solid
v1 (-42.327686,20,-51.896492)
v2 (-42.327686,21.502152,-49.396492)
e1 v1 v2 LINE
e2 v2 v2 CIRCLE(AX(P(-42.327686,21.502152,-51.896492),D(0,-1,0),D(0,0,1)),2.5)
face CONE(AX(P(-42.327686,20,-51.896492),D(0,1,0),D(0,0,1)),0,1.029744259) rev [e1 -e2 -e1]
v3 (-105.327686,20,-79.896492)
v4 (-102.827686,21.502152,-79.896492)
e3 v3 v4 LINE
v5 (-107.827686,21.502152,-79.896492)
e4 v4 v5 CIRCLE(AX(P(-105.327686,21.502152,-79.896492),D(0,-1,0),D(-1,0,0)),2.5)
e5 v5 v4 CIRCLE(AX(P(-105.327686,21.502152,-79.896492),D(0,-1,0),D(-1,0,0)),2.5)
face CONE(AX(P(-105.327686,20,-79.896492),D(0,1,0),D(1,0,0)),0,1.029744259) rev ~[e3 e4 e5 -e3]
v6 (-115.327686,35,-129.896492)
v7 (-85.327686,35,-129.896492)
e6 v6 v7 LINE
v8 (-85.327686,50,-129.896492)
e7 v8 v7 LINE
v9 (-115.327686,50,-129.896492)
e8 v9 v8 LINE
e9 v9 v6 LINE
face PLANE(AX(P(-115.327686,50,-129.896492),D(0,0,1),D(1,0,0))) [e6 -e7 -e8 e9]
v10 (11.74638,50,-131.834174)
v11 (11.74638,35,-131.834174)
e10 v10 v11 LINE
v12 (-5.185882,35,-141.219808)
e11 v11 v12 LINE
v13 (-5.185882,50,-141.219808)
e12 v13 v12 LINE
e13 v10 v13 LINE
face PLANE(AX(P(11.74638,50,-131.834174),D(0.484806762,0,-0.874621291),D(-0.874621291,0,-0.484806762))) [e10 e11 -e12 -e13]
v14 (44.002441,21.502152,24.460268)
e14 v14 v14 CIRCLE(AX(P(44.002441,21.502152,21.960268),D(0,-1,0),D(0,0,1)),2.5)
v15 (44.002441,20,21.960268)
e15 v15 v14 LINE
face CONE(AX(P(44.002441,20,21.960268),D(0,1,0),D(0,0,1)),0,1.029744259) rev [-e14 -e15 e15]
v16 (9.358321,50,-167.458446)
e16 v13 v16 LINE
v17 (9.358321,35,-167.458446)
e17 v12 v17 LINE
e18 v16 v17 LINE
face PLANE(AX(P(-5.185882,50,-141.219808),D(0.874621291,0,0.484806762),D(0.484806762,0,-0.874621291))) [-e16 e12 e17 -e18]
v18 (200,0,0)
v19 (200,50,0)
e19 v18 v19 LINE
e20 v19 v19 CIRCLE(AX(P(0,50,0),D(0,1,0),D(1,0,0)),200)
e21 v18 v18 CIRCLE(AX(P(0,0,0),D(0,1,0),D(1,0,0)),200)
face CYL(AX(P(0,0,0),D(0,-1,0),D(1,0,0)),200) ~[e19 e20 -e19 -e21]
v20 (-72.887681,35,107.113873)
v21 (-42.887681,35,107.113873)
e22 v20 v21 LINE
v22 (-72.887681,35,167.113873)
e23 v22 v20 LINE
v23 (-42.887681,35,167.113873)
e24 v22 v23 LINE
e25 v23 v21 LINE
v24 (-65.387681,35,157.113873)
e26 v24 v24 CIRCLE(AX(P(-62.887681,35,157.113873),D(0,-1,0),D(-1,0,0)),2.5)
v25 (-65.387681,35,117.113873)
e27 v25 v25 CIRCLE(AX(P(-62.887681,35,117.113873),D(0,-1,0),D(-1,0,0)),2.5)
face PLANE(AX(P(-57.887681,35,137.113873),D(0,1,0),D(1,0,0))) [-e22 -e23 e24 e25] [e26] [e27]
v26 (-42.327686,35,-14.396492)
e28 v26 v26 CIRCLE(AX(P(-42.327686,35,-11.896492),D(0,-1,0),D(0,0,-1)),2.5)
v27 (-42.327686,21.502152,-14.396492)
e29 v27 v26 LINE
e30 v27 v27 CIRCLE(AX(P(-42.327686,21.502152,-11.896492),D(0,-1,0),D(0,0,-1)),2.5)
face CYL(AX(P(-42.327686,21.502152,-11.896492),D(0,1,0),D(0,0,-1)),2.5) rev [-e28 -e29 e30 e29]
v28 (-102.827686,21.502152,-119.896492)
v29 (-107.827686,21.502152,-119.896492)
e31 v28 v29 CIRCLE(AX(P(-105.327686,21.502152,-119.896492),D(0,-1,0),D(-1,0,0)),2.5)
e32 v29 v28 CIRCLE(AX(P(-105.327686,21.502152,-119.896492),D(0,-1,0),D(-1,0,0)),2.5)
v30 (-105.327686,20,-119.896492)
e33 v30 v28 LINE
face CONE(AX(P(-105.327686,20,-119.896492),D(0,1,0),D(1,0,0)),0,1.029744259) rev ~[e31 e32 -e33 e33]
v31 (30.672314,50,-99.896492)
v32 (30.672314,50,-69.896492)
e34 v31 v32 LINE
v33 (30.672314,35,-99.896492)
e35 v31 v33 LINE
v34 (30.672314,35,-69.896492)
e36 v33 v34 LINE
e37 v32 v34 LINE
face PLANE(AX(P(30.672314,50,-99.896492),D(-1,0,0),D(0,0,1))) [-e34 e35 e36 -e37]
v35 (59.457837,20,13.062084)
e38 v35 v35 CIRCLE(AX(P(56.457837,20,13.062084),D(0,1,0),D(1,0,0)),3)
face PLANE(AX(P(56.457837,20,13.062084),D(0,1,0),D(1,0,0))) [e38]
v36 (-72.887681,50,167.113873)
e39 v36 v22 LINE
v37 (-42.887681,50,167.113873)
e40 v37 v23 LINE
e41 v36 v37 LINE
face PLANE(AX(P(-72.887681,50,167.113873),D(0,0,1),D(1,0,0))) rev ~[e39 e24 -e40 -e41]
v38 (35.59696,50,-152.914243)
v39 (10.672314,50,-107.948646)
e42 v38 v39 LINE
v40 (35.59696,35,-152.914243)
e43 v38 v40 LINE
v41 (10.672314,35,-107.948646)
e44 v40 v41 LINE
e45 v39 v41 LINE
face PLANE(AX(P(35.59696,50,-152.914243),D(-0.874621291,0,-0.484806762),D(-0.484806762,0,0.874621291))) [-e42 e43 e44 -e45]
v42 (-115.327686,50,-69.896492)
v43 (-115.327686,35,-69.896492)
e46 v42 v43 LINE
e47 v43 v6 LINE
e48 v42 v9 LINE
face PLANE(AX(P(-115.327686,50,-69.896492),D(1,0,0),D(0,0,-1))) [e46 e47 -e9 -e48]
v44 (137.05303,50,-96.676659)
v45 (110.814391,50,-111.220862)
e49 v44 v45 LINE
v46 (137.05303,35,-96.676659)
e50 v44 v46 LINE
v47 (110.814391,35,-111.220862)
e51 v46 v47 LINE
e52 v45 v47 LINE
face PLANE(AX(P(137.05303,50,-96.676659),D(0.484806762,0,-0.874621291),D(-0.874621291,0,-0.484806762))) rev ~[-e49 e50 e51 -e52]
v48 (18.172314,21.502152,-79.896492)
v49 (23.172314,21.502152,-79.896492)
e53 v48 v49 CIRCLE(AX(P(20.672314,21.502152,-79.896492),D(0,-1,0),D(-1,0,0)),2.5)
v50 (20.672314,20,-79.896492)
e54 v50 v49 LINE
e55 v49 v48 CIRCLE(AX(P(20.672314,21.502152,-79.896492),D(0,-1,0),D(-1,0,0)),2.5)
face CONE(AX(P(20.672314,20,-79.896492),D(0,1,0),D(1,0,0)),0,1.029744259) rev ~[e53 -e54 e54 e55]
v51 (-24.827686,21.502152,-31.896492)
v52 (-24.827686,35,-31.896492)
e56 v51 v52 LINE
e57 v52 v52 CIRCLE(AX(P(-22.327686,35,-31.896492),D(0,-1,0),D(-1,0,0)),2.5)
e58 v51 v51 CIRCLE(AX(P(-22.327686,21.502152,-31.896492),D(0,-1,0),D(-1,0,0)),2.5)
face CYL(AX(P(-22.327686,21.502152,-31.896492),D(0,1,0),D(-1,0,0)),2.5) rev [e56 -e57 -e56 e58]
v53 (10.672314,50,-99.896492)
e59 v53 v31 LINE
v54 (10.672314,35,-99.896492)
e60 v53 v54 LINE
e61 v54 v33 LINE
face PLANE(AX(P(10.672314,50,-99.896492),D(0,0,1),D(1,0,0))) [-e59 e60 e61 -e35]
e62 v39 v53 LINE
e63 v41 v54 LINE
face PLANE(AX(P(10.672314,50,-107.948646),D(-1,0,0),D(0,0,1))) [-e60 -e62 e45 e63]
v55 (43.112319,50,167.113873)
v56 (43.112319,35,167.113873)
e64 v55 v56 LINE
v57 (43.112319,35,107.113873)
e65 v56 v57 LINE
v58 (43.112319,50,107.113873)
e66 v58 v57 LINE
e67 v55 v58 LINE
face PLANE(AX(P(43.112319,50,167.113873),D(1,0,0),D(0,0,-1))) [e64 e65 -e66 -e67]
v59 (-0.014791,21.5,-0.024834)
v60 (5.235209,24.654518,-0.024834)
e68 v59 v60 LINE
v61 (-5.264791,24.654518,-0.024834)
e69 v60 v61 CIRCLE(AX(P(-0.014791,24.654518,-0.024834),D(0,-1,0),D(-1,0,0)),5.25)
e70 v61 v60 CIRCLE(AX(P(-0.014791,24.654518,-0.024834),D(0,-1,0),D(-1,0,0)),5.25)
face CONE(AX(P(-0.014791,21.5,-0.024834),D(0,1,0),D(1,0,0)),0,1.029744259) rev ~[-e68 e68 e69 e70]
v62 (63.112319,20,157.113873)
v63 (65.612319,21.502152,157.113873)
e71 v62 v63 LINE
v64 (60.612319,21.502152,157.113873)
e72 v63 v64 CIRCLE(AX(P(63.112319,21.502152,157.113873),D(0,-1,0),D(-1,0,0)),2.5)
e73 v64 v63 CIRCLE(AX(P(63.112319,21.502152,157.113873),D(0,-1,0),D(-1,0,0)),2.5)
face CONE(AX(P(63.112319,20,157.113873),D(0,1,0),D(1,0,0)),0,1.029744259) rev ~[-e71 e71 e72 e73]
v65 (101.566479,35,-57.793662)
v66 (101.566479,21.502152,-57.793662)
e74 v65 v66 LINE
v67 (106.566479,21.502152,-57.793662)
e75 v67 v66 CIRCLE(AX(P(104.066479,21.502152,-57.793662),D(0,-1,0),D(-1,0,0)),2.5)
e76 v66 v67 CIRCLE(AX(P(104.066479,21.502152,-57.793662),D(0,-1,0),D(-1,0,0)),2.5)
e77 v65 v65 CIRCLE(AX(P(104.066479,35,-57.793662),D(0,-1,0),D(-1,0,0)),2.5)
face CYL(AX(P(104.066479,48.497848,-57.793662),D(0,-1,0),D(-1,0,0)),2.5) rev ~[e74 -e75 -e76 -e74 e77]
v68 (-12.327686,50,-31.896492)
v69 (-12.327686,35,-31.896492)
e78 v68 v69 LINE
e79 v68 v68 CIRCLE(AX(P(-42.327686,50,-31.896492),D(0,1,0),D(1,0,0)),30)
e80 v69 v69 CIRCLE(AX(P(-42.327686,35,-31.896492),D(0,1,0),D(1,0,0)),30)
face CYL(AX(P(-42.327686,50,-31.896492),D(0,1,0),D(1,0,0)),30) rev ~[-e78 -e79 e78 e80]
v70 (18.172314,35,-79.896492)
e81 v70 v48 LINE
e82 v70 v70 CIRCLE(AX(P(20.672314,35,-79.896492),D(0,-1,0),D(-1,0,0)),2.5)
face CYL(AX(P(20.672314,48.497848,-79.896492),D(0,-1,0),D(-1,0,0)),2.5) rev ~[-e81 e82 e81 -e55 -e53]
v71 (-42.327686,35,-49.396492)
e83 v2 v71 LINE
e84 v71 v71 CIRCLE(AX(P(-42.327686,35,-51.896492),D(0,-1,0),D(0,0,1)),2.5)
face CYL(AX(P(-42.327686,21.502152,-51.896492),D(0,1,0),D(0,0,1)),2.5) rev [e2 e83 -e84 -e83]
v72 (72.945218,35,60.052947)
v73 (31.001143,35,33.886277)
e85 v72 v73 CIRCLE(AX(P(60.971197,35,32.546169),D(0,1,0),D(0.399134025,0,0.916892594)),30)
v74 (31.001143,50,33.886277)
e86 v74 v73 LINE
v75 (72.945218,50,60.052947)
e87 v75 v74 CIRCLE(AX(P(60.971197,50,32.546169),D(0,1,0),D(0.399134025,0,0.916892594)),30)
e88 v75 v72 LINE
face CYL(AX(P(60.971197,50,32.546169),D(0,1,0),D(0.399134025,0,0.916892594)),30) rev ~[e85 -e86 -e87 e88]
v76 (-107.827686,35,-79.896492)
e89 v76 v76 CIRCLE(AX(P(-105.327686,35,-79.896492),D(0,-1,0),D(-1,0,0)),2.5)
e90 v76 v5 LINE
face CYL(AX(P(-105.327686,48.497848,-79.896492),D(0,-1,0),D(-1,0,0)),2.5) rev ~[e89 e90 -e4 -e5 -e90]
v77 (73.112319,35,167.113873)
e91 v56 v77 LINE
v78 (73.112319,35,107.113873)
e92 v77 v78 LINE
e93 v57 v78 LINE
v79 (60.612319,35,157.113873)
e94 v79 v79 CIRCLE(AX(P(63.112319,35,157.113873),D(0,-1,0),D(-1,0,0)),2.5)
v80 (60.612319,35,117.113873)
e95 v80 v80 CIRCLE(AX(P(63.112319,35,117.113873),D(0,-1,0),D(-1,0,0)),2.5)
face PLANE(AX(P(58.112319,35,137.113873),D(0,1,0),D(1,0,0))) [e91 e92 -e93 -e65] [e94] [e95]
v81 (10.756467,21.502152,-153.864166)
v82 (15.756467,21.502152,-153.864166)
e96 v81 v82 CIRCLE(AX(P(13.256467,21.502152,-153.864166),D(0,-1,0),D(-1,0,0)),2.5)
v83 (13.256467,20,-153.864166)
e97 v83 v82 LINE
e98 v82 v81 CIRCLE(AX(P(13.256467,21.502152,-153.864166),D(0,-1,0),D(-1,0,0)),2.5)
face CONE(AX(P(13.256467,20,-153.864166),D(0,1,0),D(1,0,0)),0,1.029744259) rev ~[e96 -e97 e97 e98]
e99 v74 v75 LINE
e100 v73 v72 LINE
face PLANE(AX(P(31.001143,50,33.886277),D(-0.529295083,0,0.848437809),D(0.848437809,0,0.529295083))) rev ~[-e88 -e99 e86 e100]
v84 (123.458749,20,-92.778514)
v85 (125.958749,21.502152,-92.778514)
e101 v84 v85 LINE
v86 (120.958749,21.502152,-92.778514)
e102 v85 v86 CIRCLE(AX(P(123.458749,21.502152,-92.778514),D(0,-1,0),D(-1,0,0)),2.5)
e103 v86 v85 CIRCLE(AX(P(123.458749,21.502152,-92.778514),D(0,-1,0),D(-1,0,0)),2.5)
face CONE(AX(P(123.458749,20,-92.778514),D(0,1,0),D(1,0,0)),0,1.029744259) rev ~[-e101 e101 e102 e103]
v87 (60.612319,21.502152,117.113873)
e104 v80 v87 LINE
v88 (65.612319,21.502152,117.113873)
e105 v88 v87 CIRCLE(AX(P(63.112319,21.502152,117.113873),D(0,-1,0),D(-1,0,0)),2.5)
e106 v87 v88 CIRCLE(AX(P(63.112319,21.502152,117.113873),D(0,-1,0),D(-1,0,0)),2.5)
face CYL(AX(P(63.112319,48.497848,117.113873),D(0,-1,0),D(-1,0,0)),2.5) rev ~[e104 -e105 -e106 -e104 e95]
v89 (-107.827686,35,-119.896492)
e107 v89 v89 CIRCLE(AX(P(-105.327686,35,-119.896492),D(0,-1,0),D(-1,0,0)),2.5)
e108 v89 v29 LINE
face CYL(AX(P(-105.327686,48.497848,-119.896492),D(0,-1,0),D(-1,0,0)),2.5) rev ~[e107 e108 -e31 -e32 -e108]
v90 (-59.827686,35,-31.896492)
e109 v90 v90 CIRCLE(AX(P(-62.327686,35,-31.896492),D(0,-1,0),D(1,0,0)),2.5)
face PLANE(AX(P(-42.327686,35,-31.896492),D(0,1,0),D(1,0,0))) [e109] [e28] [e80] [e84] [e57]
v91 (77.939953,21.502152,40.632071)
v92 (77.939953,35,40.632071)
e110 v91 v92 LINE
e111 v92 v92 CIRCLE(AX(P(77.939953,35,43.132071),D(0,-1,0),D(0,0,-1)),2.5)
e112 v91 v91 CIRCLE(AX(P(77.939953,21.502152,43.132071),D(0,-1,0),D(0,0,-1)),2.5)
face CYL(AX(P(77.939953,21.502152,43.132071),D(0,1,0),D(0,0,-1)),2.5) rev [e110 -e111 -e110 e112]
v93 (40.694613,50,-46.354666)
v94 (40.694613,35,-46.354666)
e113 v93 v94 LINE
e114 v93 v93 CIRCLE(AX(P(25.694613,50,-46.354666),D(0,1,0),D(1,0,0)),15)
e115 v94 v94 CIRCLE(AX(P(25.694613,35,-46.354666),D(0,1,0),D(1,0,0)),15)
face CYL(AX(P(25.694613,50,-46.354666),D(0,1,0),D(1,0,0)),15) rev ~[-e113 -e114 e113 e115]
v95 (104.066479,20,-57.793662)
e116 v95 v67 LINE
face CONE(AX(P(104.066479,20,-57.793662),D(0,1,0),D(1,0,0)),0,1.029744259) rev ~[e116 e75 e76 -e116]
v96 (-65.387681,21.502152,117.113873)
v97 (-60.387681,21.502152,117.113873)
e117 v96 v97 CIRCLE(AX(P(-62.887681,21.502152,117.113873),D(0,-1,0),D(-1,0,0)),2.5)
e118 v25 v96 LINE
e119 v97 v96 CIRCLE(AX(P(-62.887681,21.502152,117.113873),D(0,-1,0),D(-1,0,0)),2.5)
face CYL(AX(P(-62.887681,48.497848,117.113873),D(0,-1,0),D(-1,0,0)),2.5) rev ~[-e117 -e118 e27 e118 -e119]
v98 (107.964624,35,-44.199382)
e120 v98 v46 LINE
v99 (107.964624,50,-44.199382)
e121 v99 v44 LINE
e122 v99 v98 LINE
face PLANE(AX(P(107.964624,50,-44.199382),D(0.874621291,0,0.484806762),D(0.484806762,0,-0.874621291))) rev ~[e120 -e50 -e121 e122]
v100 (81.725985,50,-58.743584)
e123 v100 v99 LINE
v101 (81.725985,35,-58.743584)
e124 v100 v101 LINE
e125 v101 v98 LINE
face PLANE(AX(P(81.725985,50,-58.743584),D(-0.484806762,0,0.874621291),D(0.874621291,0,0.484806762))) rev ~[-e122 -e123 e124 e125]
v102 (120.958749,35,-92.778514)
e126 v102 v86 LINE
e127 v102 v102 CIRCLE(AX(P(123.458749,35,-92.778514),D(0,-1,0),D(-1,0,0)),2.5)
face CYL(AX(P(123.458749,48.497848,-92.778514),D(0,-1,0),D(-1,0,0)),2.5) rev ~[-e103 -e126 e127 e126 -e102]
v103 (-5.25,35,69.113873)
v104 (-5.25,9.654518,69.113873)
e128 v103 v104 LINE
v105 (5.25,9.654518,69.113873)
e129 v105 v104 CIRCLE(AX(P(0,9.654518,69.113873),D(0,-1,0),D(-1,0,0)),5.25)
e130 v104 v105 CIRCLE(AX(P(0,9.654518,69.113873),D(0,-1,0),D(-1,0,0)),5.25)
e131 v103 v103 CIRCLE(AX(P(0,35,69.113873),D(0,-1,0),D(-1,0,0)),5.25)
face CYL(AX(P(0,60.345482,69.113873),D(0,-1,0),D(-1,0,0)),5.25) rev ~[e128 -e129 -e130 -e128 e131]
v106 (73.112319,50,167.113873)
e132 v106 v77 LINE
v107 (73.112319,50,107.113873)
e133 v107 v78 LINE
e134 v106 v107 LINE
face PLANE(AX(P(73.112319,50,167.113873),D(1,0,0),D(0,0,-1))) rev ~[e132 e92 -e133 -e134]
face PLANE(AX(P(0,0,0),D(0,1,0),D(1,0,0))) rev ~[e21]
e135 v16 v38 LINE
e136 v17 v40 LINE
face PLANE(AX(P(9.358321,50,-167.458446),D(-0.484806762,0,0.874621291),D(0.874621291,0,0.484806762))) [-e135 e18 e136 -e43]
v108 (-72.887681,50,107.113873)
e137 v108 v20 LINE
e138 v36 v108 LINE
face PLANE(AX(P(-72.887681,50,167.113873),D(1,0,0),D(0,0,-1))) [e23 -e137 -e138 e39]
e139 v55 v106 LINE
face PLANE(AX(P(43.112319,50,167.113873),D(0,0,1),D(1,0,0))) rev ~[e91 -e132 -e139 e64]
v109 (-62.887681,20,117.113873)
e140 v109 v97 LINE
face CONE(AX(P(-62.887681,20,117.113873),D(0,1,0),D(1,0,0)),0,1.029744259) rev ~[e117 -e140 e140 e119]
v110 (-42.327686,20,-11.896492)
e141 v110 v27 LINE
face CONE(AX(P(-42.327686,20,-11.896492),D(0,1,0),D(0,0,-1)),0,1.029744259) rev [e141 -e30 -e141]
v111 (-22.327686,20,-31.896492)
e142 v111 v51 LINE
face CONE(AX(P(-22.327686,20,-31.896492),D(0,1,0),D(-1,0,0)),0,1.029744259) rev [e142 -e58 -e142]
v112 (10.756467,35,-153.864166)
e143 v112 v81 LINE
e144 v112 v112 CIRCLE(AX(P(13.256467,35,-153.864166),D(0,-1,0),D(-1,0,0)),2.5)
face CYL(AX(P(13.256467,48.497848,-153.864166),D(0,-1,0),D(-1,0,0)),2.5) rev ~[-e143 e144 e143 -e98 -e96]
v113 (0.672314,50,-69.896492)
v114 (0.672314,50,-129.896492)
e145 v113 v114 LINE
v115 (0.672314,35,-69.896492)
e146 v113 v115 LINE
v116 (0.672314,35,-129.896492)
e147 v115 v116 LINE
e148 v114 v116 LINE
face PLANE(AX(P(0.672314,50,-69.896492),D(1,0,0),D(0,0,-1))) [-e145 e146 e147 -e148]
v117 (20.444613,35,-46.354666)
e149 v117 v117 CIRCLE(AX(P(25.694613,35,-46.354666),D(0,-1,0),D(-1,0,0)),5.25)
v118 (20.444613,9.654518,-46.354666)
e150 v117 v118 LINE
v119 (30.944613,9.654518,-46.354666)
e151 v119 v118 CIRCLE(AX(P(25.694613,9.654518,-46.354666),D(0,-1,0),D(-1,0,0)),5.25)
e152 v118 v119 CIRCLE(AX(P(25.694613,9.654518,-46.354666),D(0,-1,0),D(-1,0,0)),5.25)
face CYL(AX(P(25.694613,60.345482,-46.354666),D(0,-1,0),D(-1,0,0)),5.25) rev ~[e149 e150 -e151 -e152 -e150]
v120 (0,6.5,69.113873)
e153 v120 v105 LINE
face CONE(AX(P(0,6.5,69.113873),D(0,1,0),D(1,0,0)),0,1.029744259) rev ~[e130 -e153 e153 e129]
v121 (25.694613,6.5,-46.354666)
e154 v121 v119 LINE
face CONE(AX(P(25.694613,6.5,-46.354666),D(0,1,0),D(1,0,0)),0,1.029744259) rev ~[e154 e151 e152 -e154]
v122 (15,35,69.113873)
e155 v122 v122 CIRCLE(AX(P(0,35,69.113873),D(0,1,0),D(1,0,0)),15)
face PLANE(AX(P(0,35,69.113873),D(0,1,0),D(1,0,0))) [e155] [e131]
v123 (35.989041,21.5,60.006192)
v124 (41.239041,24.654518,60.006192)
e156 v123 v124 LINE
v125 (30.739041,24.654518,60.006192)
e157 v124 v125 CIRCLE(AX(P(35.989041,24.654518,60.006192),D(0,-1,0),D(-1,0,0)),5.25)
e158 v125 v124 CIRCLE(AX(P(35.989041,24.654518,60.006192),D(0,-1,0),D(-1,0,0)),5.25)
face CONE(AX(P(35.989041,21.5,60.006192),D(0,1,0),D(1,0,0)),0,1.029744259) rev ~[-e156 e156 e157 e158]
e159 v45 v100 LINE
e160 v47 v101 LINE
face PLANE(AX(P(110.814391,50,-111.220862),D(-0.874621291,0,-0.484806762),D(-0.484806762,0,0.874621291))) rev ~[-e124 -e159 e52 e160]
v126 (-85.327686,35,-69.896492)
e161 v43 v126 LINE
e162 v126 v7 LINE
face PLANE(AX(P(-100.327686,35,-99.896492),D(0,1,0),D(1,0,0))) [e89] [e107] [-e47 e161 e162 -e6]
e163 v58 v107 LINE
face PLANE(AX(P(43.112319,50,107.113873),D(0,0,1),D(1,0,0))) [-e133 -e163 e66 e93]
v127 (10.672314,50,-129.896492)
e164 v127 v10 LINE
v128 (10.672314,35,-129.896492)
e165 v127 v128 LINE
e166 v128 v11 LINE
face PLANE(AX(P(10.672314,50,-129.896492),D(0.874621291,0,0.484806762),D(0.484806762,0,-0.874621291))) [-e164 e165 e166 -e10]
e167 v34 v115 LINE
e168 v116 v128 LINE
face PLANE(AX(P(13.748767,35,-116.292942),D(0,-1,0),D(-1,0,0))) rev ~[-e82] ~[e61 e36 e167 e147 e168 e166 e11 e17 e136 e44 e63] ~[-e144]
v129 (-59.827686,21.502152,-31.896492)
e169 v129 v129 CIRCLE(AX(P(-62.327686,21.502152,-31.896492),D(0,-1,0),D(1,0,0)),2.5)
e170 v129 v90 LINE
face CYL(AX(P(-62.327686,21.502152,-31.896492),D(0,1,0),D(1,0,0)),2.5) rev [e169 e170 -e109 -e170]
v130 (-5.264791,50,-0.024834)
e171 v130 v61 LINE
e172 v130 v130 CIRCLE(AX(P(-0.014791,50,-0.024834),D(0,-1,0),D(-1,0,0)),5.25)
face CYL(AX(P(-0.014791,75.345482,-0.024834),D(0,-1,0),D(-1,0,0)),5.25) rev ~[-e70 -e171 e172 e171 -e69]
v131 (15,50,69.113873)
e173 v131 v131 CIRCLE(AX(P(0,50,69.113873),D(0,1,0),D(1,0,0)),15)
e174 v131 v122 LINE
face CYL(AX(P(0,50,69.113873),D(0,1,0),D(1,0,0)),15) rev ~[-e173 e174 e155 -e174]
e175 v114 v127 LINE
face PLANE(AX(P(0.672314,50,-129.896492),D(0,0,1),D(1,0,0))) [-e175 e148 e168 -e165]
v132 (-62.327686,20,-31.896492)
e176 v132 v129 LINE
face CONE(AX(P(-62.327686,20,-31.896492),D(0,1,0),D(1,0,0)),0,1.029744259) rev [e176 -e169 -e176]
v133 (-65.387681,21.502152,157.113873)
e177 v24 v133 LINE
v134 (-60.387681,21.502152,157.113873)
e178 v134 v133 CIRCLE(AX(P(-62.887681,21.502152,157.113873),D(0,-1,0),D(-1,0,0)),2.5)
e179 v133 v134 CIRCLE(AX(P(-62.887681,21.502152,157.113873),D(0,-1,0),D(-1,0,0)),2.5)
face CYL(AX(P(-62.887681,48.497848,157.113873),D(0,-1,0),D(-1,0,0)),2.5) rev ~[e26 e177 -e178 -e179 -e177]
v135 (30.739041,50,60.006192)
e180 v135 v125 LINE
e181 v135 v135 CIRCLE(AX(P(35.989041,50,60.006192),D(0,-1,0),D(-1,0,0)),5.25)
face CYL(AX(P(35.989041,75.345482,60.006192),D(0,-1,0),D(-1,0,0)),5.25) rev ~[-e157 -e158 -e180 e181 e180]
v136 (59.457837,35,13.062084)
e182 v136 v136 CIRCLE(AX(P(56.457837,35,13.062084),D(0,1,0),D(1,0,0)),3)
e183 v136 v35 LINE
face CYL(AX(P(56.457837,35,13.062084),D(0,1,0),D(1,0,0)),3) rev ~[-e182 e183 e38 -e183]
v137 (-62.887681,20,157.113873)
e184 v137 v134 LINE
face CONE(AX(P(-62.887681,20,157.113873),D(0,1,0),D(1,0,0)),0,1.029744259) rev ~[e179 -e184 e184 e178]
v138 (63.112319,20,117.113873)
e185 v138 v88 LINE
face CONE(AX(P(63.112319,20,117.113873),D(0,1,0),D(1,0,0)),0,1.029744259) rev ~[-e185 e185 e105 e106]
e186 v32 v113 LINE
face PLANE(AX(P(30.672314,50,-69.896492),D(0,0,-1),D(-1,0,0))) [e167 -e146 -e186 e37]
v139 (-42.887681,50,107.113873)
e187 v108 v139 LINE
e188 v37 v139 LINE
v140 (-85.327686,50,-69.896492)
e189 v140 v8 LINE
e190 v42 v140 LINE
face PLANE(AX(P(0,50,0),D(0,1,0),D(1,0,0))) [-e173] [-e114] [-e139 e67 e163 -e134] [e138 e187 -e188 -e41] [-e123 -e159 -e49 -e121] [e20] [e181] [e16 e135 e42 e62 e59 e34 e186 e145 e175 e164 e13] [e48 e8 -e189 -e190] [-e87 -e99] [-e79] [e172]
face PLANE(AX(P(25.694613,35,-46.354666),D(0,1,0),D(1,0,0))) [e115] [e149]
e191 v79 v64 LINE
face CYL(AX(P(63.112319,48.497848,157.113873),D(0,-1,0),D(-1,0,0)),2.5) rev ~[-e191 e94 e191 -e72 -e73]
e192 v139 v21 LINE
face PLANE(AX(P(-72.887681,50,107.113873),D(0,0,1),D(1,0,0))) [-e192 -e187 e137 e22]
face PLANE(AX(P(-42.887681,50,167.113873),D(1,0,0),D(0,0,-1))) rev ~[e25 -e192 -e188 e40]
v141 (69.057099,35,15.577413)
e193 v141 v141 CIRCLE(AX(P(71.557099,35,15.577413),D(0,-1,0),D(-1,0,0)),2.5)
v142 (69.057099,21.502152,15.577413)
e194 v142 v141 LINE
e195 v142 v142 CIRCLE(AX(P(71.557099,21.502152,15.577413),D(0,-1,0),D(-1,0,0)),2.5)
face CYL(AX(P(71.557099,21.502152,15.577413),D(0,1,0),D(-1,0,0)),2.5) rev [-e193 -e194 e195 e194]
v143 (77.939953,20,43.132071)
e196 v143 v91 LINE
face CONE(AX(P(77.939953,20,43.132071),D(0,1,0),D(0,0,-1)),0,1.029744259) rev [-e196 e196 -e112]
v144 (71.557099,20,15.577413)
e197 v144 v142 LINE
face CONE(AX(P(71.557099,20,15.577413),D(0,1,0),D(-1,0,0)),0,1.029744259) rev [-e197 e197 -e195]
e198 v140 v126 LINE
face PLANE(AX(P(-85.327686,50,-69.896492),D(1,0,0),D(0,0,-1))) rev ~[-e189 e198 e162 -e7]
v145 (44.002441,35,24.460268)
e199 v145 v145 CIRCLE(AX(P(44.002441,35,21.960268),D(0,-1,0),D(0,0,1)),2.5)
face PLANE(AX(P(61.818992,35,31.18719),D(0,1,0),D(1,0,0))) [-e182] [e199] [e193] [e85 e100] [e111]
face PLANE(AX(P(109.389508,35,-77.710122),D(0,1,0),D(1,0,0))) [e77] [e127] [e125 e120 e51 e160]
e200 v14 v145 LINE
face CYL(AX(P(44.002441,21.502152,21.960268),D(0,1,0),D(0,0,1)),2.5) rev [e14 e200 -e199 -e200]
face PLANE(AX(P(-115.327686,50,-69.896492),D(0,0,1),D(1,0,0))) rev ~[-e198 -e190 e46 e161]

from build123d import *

# Parameters (mm, degrees)
SKETCH1_R                  = 200
BOSS_EXTRUDE1_DEPTH        = 50
SKETCH2_R                  = 15
SKETCH2_R_2                = 30
CUT_EXTRUDE1_DEPTH         = 15
M12X1_5_TAPPED_HOLE1_D     = 10.5
M12X1_5_TAPPED_HOLE1_DEPTH = 25.34548175
M12X1_5_TAPPED_HOLE1_TIP   = 3.15451825
CIRPATTERN5_COUNT          = 3
CIRPATTERN5_ANGLE          = 180
CIRPATTERN6_COUNT          = 4
M12X1_5_TAPPED_HOLE2_D     = 10.5
M12X1_5_TAPPED_HOLE2_DEPTH = 25.34548175
M12X1_5_TAPPED_HOLE2_TIP   = 3.15451825
SKETCH3_W                  = 30
SKETCH3_H                  = 60
CUT_EXTRUDE2_DEPTH         = 15
M6_TAPPED_HOLE3_D          = 5
M6_TAPPED_HOLE3_DEPTH      = 13.497848452
M6_TAPPED_HOLE3_TIP        = 1.502151548
SKETCH32_R                 = 3
CUT_EXTRUDE3_DEPTH         = 15
M12X1_5_TAPPED_HOLE3_D     = 10.5
M12X1_5_TAPPED_HOLE3_DEPTH = 25.34548175
M12X1_5_TAPPED_HOLE3_TIP   = 3.15451825


with BuildPart() as part:
    # Sketch1 → Boss-Extrude1 (new body)
    with BuildSketch(Plane(origin=(0, 0, 0), x_dir=(1, 0, 0), z_dir=(0, 1, 0))):
        Circle(SKETCH1_R)
    extrude(amount=BOSS_EXTRUDE1_DEPTH)

    # Sketch2 → Cut-Extrude1 (cut)
    with BuildSketch(Plane(origin=(0, 50, 0), x_dir=(1, 0, 0), z_dir=(0, 1, 0))):
        with Locations((0, -69.113872591)):
            Circle(SKETCH2_R)
        with Locations((25.69461295, 46.354666069)):
            Circle(SKETCH2_R)
        with Locations((-42.327685627, 31.896492385)):
            Circle(SKETCH2_R_2)
        with BuildLine():
            Line((31.001143439, -33.886276935), (72.945217779, -60.052947106))
            ThreePointArc((72.945217779, -60.052947106), (76.850049502, -7.09303501), (31.001143439, -33.886276935))
        make_face()
    extrude(amount=-CUT_EXTRUDE1_DEPTH, mode=Mode.SUBTRACT)

    # M12x1.5 Tapped Hole1
    with Locations(Plane(origin=(0, 35, 0), x_dir=(1, 0, 0), z_dir=(0, 1, 0))):
        with Locations((25.69461295, 46.354666069), (0, -69.113872591)):
            Hole(M12X1_5_TAPPED_HOLE1_D / 2, depth=M12X1_5_TAPPED_HOLE1_DEPTH)
            with Locations((0, 0, -(M12X1_5_TAPPED_HOLE1_DEPTH + M12X1_5_TAPPED_HOLE1_TIP / 2))):  # 118° drill point
                Cone(0, M12X1_5_TAPPED_HOLE1_D / 2, M12X1_5_TAPPED_HOLE1_TIP, mode=Mode.SUBTRACT)

    # Sketch18 → M6 Tapped Hole1 (revolve, cut)
    with BuildSketch(Plane(origin=(44.002440842, 35, 21.960267616), x_dir=(0, 0, 1), z_dir=(1, 0, 0))):
        Polygon((0, 0), (0, 15), (2.5, 13.497848452), (2.5, 0), align=None)
    m6_tapped_hole1 = revolve(axis=Axis((44.002440842, 41.35, 21.960267616), (0, -1, 0)), mode=Mode.SUBTRACT)

    # CirPattern5: M6 Tapped Hole1 ×3 about axis
    cirpattern5_axis = Axis((60.971197017, 35, 32.546169272), (0, -1, 0))
    for i in range(1, CIRPATTERN5_COUNT):
        add(m6_tapped_hole1.rotate(cirpattern5_axis, i * CIRPATTERN5_ANGLE / (CIRPATTERN5_COUNT - 1)), mode=Mode.SUBTRACT)

    # Sketch21 → M6 Tapped Hole2 (revolve, cut)
    with BuildSketch(Plane(origin=(-42.327685627, 35, -51.896492385), x_dir=(0, 0, 1), z_dir=(1, 0, 0))):
        Polygon((0, 0), (0, 15), (2.5, 13.497848452), (2.5, 0), align=None)
    m6_tapped_hole2 = revolve(axis=Axis((-42.327685627, 41.35, -51.896492385), (0, -1, 0)), mode=Mode.SUBTRACT)

    # CirPattern6: M6 Tapped Hole2 ×4 about axis
    cirpattern6_axis = Axis((-42.327685627, 35, -31.896492385), (0, 1, 0))
    for i in range(1, CIRPATTERN6_COUNT):
        add(m6_tapped_hole2.rotate(cirpattern6_axis, i * 360 / CIRPATTERN6_COUNT), mode=Mode.SUBTRACT)

    # M12x1.5 Tapped Hole2
    with Locations(Plane(origin=(0, 50, 0), x_dir=(1, 0, 0), z_dir=(0, 1, 0))):
        with Locations((-0.014790744, 0.024833856)):
            Hole(M12X1_5_TAPPED_HOLE2_D / 2, depth=M12X1_5_TAPPED_HOLE2_DEPTH)
            with Locations((0, 0, -(M12X1_5_TAPPED_HOLE2_DEPTH + M12X1_5_TAPPED_HOLE2_TIP / 2))):  # 118° drill point
                Cone(0, M12X1_5_TAPPED_HOLE2_D / 2, M12X1_5_TAPPED_HOLE2_TIP, mode=Mode.SUBTRACT)

    # Sketch3 → Cut-Extrude2 (cut)
    with BuildSketch(Plane(origin=(0, 50, 0), x_dir=(1, 0, 0), z_dir=(0, 1, 0))):
        with Locations((58.112318667, -137.113872591)):
            Rectangle(SKETCH3_W, SKETCH3_H)
        Polygon((137.053029906, 96.676659004), (110.814391162, 111.220861865), (81.72598544, 58.743584377), (107.964624184, 44.199381516), align=None)
        with Locations((-100.327685627, 99.896492385)):
            Rectangle(SKETCH3_W, SKETCH3_H)
        with Locations((-57.887681333, -137.113872591)):
            Rectangle(SKETCH3_W, SKETCH3_H)
        Polygon((35.596960096, 152.9142434), (9.358321352, 167.458446261), (-5.185881509, 141.219807517), (11.746380439, 131.834173793), (10.672314373, 129.896492385), (0.672314373, 129.896492385), (0.672314373, 69.896492385), (30.672314373, 69.896492385), (30.672314373, 99.896492385), (10.672314373, 99.896492385), (10.672314373, 107.948645684), align=None)
    extrude(amount=-CUT_EXTRUDE2_DEPTH, mode=Mode.SUBTRACT)

    # M6 Tapped Hole3
    with Locations(Plane(origin=(0, 35, 0), x_dir=(1, 0, 0), z_dir=(0, 1, 0))):
        with Locations((123.458749371, 92.77851371), (104.06647889, 57.793662051), (-105.327685627, 119.896492385), (-105.327685627, 79.896492385), (-62.887681333, -117.113872591), (-62.887681333, -157.113872591), (63.112318667, -117.113872591), (63.112318667, -157.113872591), (13.256466646, 153.864165726), (20.672314373, 79.896492385)):
            Hole(M6_TAPPED_HOLE3_D / 2, depth=M6_TAPPED_HOLE3_DEPTH)
            with Locations((0, 0, -(M6_TAPPED_HOLE3_DEPTH + M6_TAPPED_HOLE3_TIP / 2))):  # 118° drill point
                Cone(0, M6_TAPPED_HOLE3_D / 2, M6_TAPPED_HOLE3_TIP, mode=Mode.SUBTRACT)

    # Sketch32 → Cut-Extrude3 (cut)
    with BuildSketch(Plane(origin=(0, 35, 0), x_dir=(1, 0, 0), z_dir=(0, 1, 0))):
        with Locations((56.457837304, -13.062083867)):
            Circle(SKETCH32_R)
    extrude(amount=-CUT_EXTRUDE3_DEPTH, mode=Mode.SUBTRACT)

    # M12x1.5 Tapped Hole3
    with Locations(Plane(origin=(0, 50, 0), x_dir=(1, 0, 0), z_dir=(0, 1, 0))):
        with Locations((35.989041426, -60.006192032)):
            Hole(M12X1_5_TAPPED_HOLE3_D / 2, depth=M12X1_5_TAPPED_HOLE3_DEPTH)
            with Locations((0, 0, -(M12X1_5_TAPPED_HOLE3_DEPTH + M12X1_5_TAPPED_HOLE3_TIP / 2))):  # 118° drill point
                Cone(0, M12X1_5_TAPPED_HOLE3_D / 2, M12X1_5_TAPPED_HOLE3_TIP, mode=Mode.SUBTRACT)


solid = part.part
